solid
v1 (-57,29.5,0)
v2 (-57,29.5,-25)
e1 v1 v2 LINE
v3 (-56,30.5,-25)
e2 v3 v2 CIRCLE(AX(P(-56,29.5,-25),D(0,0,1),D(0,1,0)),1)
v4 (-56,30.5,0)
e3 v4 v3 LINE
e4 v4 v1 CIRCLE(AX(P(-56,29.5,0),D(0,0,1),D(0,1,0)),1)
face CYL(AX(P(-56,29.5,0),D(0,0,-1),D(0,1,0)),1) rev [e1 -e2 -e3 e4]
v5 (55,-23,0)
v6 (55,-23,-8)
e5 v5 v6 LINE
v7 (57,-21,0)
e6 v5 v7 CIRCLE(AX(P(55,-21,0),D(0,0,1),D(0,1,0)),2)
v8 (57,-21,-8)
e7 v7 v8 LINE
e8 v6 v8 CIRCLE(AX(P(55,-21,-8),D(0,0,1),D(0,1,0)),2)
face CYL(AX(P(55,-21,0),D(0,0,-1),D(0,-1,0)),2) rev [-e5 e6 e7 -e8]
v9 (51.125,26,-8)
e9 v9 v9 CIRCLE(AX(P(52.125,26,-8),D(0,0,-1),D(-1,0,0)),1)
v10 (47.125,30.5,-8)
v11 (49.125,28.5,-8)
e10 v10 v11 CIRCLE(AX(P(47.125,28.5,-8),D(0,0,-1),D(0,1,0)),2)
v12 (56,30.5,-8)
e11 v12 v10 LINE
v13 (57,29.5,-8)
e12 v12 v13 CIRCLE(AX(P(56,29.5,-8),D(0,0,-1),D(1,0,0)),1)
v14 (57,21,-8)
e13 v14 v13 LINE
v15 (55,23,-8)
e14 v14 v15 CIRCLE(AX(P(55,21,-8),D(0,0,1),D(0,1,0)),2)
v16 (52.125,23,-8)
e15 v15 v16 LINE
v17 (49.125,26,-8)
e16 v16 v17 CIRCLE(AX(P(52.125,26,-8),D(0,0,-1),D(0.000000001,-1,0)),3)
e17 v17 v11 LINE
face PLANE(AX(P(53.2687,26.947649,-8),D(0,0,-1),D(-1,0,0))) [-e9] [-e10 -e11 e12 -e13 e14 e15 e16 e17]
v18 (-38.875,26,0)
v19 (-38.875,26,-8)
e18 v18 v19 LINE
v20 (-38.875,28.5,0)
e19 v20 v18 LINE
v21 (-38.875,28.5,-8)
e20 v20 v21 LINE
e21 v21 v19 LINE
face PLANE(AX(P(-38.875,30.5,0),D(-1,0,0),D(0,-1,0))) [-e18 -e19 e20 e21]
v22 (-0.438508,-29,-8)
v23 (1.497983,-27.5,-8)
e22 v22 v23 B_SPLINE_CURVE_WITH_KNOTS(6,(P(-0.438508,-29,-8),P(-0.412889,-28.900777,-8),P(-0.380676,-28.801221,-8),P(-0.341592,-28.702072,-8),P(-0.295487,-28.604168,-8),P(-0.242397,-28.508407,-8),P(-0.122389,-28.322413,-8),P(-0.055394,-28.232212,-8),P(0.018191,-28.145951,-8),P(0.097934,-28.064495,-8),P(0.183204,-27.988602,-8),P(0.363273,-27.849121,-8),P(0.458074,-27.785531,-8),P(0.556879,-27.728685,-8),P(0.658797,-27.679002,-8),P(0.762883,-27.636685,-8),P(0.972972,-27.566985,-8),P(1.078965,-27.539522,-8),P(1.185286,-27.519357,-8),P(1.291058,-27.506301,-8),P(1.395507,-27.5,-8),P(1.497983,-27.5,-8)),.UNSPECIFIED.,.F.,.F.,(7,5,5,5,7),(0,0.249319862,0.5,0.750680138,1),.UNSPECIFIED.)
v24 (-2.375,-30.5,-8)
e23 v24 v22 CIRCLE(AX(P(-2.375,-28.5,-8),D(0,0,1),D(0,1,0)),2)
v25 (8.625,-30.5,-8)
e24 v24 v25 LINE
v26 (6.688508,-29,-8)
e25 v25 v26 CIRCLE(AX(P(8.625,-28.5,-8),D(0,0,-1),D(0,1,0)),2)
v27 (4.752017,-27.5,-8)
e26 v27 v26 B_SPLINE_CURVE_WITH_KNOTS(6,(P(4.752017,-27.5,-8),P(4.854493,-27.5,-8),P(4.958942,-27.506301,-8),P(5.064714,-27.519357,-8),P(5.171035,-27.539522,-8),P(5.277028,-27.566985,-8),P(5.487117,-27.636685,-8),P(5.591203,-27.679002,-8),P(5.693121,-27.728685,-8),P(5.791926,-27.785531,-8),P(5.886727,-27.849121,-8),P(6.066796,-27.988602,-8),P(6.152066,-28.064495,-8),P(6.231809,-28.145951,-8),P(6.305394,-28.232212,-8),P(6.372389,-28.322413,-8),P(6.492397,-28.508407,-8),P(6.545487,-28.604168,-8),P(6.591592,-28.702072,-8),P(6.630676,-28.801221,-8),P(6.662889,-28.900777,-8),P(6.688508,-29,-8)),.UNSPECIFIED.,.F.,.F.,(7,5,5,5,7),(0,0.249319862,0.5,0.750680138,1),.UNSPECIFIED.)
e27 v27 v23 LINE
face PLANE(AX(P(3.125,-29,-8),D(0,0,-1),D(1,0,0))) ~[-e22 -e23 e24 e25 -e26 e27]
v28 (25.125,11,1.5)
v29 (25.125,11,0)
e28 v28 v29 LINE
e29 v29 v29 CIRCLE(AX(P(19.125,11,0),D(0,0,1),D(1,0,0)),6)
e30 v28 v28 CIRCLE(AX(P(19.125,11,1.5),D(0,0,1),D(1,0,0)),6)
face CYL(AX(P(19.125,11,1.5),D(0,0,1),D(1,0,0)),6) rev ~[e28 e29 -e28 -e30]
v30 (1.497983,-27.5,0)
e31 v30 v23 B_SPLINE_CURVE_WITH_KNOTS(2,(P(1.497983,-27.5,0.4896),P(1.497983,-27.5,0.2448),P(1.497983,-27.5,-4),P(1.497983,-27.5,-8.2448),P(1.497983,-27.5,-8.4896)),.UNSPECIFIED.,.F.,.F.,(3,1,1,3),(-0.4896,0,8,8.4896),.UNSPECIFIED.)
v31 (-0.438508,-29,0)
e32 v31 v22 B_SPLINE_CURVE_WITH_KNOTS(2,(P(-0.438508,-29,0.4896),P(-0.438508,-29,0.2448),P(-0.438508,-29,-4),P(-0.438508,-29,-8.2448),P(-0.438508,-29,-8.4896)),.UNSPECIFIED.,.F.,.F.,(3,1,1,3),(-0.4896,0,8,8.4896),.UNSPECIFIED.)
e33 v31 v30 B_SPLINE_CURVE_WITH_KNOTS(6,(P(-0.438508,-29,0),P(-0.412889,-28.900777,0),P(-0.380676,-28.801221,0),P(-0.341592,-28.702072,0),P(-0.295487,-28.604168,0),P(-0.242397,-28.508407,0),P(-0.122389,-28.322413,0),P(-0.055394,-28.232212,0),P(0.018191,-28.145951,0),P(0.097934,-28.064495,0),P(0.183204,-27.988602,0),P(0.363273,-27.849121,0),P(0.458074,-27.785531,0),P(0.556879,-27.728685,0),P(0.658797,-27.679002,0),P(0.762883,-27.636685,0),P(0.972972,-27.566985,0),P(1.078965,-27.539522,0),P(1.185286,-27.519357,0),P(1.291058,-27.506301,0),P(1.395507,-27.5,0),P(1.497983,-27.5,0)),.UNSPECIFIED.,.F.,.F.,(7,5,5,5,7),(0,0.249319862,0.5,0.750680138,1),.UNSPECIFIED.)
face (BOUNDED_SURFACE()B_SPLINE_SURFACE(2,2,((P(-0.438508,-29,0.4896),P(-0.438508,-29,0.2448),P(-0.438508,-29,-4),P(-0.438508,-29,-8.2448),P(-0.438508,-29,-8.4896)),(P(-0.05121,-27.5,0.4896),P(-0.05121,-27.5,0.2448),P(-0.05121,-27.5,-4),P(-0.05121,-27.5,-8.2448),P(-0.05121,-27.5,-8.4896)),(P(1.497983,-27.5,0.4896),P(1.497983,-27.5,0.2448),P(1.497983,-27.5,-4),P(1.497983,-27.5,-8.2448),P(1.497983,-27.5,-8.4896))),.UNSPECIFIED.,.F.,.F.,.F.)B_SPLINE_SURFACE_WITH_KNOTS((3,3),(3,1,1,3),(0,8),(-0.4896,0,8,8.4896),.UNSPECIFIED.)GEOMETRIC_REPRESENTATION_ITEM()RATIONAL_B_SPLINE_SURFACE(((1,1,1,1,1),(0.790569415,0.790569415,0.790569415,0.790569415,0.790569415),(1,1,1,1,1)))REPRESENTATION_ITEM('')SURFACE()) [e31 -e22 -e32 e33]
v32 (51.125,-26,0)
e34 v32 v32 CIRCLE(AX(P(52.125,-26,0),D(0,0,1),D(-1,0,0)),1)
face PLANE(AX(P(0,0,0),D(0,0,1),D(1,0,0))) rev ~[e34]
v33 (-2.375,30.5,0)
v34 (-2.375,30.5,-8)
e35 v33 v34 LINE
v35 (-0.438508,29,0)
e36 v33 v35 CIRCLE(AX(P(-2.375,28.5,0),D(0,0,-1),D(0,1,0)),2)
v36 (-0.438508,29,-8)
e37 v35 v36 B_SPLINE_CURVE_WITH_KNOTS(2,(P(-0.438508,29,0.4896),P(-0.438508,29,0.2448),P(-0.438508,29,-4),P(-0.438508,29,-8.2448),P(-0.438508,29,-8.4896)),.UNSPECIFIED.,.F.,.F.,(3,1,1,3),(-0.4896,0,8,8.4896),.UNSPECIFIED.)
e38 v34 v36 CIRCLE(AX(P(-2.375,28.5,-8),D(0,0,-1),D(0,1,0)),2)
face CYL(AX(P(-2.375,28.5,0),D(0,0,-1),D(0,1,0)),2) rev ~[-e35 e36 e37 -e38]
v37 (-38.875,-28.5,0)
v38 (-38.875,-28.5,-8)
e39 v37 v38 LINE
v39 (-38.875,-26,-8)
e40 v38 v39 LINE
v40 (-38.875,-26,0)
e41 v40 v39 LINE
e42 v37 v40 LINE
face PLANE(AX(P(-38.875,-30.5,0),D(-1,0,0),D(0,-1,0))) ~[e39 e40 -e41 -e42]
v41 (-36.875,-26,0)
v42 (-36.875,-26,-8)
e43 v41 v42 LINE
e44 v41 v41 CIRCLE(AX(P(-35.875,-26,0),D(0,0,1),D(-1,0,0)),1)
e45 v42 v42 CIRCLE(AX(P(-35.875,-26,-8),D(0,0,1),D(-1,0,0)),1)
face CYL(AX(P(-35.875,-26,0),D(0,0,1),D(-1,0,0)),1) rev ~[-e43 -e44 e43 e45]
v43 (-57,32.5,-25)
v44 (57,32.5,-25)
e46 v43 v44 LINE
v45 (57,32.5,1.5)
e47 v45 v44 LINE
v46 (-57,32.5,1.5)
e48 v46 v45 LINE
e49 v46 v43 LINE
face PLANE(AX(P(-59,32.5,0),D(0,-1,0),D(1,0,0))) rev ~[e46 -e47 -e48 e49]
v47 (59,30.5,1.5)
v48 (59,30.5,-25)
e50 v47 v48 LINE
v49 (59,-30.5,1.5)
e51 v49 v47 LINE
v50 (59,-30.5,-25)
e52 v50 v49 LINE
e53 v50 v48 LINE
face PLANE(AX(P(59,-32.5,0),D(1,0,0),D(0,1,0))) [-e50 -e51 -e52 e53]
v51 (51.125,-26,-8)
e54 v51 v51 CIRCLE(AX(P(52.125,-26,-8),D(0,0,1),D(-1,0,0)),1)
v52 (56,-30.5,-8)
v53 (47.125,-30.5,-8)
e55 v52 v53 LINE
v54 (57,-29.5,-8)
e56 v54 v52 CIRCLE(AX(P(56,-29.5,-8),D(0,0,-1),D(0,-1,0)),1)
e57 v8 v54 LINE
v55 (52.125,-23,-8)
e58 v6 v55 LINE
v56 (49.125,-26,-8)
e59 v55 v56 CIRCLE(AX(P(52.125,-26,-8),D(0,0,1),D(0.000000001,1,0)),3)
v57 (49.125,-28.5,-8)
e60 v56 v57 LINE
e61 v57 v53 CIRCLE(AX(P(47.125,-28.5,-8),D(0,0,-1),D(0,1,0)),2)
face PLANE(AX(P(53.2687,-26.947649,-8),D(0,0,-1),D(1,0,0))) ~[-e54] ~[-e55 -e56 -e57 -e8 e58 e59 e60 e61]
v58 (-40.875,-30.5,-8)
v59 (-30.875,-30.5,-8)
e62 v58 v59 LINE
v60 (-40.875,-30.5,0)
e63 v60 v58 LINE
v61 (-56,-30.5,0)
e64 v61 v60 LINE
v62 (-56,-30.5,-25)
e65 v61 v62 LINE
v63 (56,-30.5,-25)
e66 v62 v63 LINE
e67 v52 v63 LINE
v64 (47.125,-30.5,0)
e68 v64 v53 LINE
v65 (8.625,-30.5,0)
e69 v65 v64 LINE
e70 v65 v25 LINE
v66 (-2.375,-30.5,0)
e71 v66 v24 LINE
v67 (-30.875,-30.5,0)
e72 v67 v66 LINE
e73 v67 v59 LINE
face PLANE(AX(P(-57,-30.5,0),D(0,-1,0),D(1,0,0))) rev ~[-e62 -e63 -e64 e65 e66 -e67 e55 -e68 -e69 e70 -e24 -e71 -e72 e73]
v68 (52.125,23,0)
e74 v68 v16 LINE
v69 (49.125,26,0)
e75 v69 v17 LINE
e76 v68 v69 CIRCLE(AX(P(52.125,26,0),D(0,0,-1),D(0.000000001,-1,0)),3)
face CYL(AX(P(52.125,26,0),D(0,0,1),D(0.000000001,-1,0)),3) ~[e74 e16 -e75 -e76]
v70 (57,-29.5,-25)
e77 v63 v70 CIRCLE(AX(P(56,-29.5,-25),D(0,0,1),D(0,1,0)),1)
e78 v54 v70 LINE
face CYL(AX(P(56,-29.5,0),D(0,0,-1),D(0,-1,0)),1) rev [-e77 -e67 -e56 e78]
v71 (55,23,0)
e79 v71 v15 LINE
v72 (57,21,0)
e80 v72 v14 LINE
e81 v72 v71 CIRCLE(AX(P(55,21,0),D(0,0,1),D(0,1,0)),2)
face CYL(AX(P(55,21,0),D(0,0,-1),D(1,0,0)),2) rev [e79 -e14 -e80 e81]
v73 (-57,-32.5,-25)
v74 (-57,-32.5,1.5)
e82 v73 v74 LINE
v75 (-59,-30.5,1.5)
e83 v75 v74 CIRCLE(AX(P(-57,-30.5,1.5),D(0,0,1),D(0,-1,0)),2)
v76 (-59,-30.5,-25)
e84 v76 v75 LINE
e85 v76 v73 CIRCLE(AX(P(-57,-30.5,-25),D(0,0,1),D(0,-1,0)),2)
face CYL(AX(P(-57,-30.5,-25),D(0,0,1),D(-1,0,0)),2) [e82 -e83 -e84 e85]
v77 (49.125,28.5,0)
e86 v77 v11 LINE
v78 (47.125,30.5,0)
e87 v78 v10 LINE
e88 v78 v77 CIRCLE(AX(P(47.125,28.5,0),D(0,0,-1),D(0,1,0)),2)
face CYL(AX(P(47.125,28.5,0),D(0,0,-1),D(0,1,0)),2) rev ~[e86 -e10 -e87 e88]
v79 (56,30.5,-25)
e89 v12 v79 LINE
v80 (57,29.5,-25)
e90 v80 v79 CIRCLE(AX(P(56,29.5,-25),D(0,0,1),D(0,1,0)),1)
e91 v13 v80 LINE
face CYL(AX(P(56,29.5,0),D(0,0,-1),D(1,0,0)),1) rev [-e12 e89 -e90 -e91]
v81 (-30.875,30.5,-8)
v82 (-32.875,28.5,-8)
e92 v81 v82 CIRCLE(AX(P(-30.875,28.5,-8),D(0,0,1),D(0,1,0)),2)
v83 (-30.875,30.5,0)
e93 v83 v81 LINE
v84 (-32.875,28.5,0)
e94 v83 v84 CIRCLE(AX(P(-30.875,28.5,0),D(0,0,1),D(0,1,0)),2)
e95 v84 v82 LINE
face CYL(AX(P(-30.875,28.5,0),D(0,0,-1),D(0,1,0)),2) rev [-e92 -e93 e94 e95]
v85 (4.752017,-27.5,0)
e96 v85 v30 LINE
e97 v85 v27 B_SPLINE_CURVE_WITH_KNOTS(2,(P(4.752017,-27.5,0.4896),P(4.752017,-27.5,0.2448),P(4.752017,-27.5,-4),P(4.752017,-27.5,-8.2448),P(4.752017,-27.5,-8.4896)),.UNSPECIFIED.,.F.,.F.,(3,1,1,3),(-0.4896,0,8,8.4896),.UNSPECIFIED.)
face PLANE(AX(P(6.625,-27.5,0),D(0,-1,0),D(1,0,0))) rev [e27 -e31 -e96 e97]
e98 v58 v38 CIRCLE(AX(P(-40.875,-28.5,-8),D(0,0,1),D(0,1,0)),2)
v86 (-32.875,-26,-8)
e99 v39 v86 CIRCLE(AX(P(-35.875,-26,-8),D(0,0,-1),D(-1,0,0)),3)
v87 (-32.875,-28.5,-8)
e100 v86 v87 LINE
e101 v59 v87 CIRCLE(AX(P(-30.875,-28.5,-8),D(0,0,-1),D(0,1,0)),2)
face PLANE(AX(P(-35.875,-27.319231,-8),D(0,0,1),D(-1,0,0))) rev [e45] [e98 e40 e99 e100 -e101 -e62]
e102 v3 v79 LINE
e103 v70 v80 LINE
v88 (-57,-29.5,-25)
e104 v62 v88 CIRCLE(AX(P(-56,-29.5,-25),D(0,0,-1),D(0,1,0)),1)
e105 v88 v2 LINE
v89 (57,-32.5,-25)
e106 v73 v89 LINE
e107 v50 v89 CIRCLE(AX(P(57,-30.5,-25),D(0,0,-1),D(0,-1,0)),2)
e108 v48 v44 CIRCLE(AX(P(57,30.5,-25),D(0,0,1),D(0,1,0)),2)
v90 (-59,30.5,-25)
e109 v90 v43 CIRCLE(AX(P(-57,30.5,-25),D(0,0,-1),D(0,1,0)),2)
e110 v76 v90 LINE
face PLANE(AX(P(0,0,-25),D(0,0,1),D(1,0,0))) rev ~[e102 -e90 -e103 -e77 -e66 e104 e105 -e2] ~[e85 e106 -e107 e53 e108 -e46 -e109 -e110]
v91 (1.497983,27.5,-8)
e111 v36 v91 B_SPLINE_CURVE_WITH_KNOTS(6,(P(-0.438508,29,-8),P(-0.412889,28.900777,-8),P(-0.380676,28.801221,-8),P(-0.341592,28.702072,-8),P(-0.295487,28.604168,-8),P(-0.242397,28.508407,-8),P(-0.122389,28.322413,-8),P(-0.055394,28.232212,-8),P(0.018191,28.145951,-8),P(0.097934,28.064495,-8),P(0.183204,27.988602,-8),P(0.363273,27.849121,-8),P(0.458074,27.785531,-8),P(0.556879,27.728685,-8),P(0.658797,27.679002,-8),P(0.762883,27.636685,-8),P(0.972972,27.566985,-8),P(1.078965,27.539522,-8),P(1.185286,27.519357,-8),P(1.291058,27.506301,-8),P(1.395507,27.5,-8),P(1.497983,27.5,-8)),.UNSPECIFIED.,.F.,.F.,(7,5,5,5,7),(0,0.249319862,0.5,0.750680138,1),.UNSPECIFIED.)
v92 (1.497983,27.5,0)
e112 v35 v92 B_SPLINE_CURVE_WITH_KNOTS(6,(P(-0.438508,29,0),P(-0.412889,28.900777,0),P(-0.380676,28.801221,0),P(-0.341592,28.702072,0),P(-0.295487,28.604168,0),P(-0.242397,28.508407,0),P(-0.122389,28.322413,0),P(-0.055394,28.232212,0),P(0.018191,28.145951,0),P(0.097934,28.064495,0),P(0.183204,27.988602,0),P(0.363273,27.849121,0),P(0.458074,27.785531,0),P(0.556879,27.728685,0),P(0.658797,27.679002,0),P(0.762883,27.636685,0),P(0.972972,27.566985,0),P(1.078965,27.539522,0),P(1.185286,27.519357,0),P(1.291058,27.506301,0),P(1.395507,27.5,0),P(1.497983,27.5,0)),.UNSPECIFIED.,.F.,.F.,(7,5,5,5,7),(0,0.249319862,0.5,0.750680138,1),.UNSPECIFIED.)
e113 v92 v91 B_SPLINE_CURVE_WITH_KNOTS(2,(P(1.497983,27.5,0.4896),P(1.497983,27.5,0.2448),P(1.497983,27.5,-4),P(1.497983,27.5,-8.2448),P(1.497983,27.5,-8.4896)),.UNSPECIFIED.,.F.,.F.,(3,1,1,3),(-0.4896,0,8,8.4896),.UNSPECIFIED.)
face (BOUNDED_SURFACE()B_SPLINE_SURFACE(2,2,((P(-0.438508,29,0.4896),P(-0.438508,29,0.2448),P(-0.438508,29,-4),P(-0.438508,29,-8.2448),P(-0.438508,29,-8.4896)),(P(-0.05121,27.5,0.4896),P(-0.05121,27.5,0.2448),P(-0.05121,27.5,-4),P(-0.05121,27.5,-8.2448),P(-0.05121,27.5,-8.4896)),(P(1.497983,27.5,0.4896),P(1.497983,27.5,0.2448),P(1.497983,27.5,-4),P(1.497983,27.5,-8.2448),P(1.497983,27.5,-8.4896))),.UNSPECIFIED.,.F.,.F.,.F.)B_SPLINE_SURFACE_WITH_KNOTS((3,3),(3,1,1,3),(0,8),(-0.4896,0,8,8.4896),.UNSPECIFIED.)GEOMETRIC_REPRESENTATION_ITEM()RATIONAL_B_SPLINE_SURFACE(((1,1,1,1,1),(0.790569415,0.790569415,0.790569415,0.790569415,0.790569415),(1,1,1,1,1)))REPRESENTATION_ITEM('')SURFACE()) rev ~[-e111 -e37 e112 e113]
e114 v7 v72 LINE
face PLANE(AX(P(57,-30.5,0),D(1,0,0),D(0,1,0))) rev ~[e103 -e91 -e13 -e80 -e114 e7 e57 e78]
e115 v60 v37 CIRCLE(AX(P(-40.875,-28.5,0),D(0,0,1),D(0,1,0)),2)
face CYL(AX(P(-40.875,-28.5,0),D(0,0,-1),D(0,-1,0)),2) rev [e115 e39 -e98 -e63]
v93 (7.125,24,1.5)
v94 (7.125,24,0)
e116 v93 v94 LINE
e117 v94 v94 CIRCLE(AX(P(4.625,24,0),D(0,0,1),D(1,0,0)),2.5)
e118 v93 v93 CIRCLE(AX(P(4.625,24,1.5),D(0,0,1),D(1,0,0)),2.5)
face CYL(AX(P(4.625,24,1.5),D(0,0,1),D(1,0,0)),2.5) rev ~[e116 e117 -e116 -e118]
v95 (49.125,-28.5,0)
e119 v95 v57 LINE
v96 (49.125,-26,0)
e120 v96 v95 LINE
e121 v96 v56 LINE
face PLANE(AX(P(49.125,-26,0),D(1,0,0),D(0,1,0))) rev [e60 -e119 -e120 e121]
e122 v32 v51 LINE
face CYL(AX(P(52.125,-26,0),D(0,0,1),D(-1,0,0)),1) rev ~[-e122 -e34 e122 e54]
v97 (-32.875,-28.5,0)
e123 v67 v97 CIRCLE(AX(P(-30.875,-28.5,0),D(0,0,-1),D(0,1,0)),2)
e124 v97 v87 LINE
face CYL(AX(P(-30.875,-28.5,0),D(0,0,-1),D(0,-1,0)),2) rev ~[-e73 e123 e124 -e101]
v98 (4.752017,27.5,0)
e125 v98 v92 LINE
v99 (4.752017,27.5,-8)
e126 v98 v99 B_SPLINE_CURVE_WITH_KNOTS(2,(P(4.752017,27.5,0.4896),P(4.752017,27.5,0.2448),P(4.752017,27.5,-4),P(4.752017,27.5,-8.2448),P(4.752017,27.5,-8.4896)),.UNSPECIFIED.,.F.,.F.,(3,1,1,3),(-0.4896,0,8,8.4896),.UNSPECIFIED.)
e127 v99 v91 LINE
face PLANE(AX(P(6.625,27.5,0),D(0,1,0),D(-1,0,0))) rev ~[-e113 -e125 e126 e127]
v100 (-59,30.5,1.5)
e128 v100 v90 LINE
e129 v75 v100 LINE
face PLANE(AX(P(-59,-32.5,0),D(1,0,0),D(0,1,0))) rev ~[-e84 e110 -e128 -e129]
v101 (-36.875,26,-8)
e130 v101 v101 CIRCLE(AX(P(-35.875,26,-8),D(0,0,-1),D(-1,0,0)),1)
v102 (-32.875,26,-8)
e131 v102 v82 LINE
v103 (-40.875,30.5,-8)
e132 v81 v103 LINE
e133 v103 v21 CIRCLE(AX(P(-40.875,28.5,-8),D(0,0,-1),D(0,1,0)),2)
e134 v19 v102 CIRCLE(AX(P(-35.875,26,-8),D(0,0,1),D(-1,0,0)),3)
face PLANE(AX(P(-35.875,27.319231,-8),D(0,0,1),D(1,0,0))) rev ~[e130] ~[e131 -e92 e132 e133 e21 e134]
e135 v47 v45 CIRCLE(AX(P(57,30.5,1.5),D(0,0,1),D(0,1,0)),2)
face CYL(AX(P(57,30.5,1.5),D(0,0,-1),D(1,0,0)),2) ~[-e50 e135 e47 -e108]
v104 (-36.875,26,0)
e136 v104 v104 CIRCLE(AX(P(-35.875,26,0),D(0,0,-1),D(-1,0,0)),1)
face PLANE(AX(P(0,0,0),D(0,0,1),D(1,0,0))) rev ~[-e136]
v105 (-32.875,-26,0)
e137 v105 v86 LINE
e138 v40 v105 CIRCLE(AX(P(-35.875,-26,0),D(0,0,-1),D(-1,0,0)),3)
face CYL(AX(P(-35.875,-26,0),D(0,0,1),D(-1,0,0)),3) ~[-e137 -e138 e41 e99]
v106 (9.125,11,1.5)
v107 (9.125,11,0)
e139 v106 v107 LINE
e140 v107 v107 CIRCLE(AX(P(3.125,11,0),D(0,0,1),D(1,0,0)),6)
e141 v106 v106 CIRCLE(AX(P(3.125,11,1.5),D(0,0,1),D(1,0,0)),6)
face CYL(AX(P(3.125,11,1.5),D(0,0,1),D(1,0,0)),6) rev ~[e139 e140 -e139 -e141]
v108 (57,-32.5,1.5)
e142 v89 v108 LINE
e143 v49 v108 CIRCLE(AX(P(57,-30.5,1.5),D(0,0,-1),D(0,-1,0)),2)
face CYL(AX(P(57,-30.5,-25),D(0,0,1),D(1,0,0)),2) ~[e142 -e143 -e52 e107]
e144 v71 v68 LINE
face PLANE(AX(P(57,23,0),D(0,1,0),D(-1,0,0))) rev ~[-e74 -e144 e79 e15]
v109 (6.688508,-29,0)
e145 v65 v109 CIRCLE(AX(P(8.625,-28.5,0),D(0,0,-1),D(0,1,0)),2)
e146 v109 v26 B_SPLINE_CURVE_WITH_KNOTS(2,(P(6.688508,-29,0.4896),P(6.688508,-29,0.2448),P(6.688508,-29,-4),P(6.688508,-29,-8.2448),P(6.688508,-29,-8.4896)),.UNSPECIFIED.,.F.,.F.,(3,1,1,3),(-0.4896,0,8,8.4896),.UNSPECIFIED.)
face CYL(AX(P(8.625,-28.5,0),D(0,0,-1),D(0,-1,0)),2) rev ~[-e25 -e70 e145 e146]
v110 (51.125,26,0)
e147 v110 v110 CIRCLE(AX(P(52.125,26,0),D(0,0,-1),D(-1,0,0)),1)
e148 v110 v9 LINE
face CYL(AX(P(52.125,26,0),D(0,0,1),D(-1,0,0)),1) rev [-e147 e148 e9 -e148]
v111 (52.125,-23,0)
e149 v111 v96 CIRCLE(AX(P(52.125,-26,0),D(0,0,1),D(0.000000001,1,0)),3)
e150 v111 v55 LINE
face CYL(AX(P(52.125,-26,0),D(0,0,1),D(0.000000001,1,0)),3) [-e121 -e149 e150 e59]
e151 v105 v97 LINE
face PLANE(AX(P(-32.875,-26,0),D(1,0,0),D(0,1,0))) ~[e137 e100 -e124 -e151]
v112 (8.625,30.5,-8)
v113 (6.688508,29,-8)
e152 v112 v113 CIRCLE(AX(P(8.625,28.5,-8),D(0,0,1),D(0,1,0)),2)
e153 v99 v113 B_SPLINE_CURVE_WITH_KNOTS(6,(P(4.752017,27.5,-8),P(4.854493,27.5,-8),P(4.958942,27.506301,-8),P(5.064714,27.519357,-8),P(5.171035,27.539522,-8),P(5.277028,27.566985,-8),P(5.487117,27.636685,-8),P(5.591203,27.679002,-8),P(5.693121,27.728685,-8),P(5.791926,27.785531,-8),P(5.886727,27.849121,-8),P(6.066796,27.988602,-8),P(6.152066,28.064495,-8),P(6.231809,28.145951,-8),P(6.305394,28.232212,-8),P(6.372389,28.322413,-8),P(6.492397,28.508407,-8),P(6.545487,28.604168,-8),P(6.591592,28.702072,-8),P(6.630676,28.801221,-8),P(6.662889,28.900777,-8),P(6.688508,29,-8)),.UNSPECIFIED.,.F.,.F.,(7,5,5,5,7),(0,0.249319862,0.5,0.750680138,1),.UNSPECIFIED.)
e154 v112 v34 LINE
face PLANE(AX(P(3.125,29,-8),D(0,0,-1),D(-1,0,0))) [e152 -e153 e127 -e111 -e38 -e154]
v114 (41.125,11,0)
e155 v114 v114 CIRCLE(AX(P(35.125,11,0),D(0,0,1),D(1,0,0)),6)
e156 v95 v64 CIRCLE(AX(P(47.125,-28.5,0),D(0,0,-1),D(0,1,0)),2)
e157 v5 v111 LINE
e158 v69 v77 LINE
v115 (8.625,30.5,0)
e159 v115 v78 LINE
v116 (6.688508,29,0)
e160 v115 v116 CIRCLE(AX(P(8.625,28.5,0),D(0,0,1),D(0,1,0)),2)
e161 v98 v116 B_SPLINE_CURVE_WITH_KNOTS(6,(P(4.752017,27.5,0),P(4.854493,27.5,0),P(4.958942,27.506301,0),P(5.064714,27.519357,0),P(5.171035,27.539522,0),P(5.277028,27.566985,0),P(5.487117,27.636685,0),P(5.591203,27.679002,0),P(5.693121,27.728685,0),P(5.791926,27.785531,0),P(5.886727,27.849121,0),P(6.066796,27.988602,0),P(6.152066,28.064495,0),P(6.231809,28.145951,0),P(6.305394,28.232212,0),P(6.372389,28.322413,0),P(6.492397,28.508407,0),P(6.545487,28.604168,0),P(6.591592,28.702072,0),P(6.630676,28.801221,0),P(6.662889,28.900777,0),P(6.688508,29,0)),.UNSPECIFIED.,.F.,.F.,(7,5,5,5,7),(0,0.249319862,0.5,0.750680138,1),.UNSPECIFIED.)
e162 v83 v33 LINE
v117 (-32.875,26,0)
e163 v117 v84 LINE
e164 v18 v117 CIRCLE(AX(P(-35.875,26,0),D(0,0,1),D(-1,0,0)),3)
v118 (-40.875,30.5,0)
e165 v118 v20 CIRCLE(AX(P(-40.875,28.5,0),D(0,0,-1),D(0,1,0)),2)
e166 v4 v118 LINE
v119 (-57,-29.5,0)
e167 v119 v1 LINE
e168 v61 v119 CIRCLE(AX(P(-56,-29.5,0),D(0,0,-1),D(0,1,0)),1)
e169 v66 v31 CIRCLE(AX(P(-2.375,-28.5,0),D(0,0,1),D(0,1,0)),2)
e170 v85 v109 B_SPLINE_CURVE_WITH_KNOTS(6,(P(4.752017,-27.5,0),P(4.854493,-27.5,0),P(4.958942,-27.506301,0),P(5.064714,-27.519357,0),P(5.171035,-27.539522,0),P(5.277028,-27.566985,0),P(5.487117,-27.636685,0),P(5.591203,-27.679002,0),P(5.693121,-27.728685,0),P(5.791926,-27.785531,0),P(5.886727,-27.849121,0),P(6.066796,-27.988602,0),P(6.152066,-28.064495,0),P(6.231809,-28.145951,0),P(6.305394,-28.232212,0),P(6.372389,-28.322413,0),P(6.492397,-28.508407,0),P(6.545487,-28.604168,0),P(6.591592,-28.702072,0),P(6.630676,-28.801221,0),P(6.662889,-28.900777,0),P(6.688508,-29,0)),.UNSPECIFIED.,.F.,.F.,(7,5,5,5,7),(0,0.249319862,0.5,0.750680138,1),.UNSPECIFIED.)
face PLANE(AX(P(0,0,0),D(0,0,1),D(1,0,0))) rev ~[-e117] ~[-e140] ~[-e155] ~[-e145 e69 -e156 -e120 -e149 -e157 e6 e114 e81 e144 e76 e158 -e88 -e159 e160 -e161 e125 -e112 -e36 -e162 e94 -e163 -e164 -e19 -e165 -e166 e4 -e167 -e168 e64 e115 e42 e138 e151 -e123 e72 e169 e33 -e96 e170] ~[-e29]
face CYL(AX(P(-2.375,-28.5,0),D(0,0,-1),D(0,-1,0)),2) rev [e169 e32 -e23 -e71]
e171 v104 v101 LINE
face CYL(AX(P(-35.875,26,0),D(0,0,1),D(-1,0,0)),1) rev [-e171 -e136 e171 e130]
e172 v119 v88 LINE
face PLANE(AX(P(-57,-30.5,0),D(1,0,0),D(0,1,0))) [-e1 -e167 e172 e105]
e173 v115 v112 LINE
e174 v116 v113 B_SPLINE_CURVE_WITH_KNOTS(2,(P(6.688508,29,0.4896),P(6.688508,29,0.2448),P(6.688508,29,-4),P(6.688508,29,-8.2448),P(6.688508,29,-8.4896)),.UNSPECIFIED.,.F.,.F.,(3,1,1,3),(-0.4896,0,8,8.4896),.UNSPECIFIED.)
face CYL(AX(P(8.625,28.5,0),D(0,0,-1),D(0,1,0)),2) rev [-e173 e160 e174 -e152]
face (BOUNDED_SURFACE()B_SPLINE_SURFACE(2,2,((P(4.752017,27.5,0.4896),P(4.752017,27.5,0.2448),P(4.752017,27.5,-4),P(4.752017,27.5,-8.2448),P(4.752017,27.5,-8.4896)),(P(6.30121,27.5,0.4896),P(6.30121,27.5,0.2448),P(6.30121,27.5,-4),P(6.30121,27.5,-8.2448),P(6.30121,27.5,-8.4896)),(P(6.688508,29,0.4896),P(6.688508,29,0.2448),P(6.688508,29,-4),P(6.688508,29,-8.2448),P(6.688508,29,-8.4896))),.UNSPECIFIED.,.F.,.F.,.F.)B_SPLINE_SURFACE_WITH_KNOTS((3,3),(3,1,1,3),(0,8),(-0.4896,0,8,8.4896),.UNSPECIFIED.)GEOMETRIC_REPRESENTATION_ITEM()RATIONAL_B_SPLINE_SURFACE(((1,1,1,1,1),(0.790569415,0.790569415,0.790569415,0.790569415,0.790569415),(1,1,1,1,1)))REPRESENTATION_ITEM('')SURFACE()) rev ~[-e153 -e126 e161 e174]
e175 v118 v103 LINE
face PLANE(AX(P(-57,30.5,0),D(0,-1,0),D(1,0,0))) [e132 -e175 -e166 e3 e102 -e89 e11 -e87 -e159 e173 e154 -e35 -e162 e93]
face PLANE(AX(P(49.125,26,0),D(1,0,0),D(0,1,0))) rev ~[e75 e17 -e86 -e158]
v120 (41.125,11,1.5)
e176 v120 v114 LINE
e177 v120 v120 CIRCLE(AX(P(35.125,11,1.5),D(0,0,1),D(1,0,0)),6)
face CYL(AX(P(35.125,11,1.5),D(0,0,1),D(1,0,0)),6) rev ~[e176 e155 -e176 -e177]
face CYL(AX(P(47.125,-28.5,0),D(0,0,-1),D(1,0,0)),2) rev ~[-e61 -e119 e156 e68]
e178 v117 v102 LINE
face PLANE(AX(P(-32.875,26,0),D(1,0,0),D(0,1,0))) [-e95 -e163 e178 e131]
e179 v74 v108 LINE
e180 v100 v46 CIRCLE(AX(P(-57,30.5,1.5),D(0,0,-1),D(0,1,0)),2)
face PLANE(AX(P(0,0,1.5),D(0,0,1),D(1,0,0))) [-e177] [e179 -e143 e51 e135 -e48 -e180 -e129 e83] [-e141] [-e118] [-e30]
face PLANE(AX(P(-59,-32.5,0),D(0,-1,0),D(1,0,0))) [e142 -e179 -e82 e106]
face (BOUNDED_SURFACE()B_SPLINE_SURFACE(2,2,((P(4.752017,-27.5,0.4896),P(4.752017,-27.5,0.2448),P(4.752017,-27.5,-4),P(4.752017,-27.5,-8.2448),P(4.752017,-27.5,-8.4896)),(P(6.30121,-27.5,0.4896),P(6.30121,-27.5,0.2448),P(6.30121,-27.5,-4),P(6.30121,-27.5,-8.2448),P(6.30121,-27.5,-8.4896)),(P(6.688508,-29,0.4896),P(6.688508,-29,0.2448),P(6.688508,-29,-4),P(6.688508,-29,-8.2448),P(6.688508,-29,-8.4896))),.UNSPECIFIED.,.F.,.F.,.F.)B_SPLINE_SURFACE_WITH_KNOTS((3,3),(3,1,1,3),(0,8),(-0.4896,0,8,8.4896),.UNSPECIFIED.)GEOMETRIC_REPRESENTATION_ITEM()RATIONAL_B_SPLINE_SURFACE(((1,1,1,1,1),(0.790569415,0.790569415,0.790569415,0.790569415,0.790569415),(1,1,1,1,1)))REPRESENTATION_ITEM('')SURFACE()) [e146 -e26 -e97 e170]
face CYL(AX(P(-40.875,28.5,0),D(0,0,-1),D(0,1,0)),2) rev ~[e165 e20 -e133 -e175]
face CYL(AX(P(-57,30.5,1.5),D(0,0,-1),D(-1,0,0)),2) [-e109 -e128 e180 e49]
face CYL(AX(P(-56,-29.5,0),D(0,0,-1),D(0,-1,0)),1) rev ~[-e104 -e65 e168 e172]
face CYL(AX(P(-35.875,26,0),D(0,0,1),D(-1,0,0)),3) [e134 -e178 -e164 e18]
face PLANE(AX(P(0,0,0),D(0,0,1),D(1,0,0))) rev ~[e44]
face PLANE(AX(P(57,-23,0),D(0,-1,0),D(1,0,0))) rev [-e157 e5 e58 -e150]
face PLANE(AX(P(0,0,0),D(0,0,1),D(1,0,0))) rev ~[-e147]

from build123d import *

# Parameters (mm, degrees)
SKETCH2_W           = 118
SKETCH2_H           = 65
BOSS_EXTRUDE2_DEPTH = 1.5
SKETCH4_W           = 118
SKETCH4_H           = 65
SKETCH4_W_2         = 114
SKETCH4_H_2         = 61
BOSS_EXTRUDE3_DEPTH = 25
FILLET2_R           = 2
FILLET3_R           = 1
SKETCH5_R           = 6
SKETCH5_R_2         = 2.5
CUT_EXTRUDE1_DEPTH  = 27.5
SKETCH6_R           = 1
SKETCH6_W           = 7
SKETCH6_H           = 3
BOSS_EXTRUDE4_DEPTH = 8
FILLET4_R           = 2
FILLET6_R           = 2


with BuildPart() as part:
    # Sketch2 → Boss-Extrude2 (new body)
    with BuildSketch(Plane.XY):
        Rectangle(SKETCH2_W, SKETCH2_H)
    extrude(amount=BOSS_EXTRUDE2_DEPTH)

    # Sketch4 → Boss-Extrude3 (add)
    with BuildSketch(Plane.XY):
        Rectangle(SKETCH4_W, SKETCH4_H)
        Rectangle(SKETCH4_W_2, SKETCH4_H_2, mode=Mode.SUBTRACT)
    extrude(amount=-BOSS_EXTRUDE3_DEPTH)

    # Fillet2
    fillet2_edges = [part.edges().sort_by_distance(p)[0] for p in [
        (59, 32.5, -11.75),
        (59, -32.5, -11.75),
        (-59, -32.5, -11.75),
        (-59, 32.5, -11.75),
    ]]
    fillet(fillet2_edges, radius=FILLET2_R)

    # Fillet3
    fillet3_edges = [part.edges().sort_by_distance(p)[0] for p in [
        (-57, -30.5, -12.5),
        (-57, 30.5, -12.5),
        (57, 30.5, -12.5),
        (57, -30.5, -12.5),
    ]]
    fillet(fillet3_edges, radius=FILLET3_R)

    # Sketch5 → Cut-Extrude1 (cut, through all)
    with BuildSketch(Plane.XY.offset(1.5)):
        with Locations((35.125, 11)):
            Circle(SKETCH5_R)
        with Locations((19.125, 11)):
            Circle(SKETCH5_R)
        with Locations((3.125, 11)):
            Circle(SKETCH5_R)
        with Locations((4.625, 24)):
            Circle(SKETCH5_R_2)
    extrude(amount=-CUT_EXTRUDE1_DEPTH, mode=Mode.SUBTRACT)

    # Sketch6 → Boss-Extrude4 (add)
    with BuildSketch(Plane(origin=(0, 0, 0), x_dir=(-1, 0, 0), z_dir=(0, 0, -1))):
        with BuildLine():
            Line((-57, 30.5), (-57, 23))
            Line((-57, 23), (-52.125, 23))
            ThreePointArc((-52.125, 23), (-50.003679656, 23.878679656), (-49.125, 26))
            Line((-49.125, 26), (-49.125, 30.5))
            Line((-49.125, 30.5), (-57, 30.5))
        make_face()
        with Locations((-52.125, 26)):
            Circle(SKETCH6_R, mode=Mode.SUBTRACT)
        with BuildLine():
            Line((32.875, 30.5), (38.875, 30.5))
            Line((38.875, 30.5), (38.875, 26))
            ThreePointArc((38.875, 26), (35.875, 23), (32.875, 26))
            Line((32.875, 26), (32.875, 30.5))
        make_face()
        with Locations((35.875, 26)):
            Circle(SKETCH6_R, mode=Mode.SUBTRACT)
        with Locations((-3.125, 29)):
            Rectangle(SKETCH6_W, SKETCH6_H)
    boss_extrude4 = extrude(amount=BOSS_EXTRUDE4_DEPTH)

    # Mirror1: Boss-Extrude4 across plane
    add(boss_extrude4.mirror(Plane.ZX))

    # Fillet4
    fillet4_edges = [part.edges().sort_by_distance(p)[0] for p in [
        (49.125, 30.5, -4),
        (57, 23, -4),
        (-32.875, 30.5, -4),
        (-38.875, 30.5, -4),
        (-0.375, 30.5, -4),
        (6.625, 30.5, -4),
        (57, -23, -4),
        (49.125, -30.5, -4),
        (-32.875, -30.5, -4),
        (-38.875, -30.5, -4),
        (-0.375, -30.5, -4),
        (6.625, -30.5, -4),
    ]]
    fillet(fillet4_edges, radius=FILLET4_R)

    # Fillet6
    fillet6_edges = [part.edges().sort_by_distance(p)[0] for p in [
        (-0.375, 27.5, -4),
        (6.625, 27.5, -4),
        (6.625, -27.5, -4),
        (-0.375, -27.5, -4),
    ]]
    fillet(fillet6_edges, radius=FILLET6_R)


solid = part.part
